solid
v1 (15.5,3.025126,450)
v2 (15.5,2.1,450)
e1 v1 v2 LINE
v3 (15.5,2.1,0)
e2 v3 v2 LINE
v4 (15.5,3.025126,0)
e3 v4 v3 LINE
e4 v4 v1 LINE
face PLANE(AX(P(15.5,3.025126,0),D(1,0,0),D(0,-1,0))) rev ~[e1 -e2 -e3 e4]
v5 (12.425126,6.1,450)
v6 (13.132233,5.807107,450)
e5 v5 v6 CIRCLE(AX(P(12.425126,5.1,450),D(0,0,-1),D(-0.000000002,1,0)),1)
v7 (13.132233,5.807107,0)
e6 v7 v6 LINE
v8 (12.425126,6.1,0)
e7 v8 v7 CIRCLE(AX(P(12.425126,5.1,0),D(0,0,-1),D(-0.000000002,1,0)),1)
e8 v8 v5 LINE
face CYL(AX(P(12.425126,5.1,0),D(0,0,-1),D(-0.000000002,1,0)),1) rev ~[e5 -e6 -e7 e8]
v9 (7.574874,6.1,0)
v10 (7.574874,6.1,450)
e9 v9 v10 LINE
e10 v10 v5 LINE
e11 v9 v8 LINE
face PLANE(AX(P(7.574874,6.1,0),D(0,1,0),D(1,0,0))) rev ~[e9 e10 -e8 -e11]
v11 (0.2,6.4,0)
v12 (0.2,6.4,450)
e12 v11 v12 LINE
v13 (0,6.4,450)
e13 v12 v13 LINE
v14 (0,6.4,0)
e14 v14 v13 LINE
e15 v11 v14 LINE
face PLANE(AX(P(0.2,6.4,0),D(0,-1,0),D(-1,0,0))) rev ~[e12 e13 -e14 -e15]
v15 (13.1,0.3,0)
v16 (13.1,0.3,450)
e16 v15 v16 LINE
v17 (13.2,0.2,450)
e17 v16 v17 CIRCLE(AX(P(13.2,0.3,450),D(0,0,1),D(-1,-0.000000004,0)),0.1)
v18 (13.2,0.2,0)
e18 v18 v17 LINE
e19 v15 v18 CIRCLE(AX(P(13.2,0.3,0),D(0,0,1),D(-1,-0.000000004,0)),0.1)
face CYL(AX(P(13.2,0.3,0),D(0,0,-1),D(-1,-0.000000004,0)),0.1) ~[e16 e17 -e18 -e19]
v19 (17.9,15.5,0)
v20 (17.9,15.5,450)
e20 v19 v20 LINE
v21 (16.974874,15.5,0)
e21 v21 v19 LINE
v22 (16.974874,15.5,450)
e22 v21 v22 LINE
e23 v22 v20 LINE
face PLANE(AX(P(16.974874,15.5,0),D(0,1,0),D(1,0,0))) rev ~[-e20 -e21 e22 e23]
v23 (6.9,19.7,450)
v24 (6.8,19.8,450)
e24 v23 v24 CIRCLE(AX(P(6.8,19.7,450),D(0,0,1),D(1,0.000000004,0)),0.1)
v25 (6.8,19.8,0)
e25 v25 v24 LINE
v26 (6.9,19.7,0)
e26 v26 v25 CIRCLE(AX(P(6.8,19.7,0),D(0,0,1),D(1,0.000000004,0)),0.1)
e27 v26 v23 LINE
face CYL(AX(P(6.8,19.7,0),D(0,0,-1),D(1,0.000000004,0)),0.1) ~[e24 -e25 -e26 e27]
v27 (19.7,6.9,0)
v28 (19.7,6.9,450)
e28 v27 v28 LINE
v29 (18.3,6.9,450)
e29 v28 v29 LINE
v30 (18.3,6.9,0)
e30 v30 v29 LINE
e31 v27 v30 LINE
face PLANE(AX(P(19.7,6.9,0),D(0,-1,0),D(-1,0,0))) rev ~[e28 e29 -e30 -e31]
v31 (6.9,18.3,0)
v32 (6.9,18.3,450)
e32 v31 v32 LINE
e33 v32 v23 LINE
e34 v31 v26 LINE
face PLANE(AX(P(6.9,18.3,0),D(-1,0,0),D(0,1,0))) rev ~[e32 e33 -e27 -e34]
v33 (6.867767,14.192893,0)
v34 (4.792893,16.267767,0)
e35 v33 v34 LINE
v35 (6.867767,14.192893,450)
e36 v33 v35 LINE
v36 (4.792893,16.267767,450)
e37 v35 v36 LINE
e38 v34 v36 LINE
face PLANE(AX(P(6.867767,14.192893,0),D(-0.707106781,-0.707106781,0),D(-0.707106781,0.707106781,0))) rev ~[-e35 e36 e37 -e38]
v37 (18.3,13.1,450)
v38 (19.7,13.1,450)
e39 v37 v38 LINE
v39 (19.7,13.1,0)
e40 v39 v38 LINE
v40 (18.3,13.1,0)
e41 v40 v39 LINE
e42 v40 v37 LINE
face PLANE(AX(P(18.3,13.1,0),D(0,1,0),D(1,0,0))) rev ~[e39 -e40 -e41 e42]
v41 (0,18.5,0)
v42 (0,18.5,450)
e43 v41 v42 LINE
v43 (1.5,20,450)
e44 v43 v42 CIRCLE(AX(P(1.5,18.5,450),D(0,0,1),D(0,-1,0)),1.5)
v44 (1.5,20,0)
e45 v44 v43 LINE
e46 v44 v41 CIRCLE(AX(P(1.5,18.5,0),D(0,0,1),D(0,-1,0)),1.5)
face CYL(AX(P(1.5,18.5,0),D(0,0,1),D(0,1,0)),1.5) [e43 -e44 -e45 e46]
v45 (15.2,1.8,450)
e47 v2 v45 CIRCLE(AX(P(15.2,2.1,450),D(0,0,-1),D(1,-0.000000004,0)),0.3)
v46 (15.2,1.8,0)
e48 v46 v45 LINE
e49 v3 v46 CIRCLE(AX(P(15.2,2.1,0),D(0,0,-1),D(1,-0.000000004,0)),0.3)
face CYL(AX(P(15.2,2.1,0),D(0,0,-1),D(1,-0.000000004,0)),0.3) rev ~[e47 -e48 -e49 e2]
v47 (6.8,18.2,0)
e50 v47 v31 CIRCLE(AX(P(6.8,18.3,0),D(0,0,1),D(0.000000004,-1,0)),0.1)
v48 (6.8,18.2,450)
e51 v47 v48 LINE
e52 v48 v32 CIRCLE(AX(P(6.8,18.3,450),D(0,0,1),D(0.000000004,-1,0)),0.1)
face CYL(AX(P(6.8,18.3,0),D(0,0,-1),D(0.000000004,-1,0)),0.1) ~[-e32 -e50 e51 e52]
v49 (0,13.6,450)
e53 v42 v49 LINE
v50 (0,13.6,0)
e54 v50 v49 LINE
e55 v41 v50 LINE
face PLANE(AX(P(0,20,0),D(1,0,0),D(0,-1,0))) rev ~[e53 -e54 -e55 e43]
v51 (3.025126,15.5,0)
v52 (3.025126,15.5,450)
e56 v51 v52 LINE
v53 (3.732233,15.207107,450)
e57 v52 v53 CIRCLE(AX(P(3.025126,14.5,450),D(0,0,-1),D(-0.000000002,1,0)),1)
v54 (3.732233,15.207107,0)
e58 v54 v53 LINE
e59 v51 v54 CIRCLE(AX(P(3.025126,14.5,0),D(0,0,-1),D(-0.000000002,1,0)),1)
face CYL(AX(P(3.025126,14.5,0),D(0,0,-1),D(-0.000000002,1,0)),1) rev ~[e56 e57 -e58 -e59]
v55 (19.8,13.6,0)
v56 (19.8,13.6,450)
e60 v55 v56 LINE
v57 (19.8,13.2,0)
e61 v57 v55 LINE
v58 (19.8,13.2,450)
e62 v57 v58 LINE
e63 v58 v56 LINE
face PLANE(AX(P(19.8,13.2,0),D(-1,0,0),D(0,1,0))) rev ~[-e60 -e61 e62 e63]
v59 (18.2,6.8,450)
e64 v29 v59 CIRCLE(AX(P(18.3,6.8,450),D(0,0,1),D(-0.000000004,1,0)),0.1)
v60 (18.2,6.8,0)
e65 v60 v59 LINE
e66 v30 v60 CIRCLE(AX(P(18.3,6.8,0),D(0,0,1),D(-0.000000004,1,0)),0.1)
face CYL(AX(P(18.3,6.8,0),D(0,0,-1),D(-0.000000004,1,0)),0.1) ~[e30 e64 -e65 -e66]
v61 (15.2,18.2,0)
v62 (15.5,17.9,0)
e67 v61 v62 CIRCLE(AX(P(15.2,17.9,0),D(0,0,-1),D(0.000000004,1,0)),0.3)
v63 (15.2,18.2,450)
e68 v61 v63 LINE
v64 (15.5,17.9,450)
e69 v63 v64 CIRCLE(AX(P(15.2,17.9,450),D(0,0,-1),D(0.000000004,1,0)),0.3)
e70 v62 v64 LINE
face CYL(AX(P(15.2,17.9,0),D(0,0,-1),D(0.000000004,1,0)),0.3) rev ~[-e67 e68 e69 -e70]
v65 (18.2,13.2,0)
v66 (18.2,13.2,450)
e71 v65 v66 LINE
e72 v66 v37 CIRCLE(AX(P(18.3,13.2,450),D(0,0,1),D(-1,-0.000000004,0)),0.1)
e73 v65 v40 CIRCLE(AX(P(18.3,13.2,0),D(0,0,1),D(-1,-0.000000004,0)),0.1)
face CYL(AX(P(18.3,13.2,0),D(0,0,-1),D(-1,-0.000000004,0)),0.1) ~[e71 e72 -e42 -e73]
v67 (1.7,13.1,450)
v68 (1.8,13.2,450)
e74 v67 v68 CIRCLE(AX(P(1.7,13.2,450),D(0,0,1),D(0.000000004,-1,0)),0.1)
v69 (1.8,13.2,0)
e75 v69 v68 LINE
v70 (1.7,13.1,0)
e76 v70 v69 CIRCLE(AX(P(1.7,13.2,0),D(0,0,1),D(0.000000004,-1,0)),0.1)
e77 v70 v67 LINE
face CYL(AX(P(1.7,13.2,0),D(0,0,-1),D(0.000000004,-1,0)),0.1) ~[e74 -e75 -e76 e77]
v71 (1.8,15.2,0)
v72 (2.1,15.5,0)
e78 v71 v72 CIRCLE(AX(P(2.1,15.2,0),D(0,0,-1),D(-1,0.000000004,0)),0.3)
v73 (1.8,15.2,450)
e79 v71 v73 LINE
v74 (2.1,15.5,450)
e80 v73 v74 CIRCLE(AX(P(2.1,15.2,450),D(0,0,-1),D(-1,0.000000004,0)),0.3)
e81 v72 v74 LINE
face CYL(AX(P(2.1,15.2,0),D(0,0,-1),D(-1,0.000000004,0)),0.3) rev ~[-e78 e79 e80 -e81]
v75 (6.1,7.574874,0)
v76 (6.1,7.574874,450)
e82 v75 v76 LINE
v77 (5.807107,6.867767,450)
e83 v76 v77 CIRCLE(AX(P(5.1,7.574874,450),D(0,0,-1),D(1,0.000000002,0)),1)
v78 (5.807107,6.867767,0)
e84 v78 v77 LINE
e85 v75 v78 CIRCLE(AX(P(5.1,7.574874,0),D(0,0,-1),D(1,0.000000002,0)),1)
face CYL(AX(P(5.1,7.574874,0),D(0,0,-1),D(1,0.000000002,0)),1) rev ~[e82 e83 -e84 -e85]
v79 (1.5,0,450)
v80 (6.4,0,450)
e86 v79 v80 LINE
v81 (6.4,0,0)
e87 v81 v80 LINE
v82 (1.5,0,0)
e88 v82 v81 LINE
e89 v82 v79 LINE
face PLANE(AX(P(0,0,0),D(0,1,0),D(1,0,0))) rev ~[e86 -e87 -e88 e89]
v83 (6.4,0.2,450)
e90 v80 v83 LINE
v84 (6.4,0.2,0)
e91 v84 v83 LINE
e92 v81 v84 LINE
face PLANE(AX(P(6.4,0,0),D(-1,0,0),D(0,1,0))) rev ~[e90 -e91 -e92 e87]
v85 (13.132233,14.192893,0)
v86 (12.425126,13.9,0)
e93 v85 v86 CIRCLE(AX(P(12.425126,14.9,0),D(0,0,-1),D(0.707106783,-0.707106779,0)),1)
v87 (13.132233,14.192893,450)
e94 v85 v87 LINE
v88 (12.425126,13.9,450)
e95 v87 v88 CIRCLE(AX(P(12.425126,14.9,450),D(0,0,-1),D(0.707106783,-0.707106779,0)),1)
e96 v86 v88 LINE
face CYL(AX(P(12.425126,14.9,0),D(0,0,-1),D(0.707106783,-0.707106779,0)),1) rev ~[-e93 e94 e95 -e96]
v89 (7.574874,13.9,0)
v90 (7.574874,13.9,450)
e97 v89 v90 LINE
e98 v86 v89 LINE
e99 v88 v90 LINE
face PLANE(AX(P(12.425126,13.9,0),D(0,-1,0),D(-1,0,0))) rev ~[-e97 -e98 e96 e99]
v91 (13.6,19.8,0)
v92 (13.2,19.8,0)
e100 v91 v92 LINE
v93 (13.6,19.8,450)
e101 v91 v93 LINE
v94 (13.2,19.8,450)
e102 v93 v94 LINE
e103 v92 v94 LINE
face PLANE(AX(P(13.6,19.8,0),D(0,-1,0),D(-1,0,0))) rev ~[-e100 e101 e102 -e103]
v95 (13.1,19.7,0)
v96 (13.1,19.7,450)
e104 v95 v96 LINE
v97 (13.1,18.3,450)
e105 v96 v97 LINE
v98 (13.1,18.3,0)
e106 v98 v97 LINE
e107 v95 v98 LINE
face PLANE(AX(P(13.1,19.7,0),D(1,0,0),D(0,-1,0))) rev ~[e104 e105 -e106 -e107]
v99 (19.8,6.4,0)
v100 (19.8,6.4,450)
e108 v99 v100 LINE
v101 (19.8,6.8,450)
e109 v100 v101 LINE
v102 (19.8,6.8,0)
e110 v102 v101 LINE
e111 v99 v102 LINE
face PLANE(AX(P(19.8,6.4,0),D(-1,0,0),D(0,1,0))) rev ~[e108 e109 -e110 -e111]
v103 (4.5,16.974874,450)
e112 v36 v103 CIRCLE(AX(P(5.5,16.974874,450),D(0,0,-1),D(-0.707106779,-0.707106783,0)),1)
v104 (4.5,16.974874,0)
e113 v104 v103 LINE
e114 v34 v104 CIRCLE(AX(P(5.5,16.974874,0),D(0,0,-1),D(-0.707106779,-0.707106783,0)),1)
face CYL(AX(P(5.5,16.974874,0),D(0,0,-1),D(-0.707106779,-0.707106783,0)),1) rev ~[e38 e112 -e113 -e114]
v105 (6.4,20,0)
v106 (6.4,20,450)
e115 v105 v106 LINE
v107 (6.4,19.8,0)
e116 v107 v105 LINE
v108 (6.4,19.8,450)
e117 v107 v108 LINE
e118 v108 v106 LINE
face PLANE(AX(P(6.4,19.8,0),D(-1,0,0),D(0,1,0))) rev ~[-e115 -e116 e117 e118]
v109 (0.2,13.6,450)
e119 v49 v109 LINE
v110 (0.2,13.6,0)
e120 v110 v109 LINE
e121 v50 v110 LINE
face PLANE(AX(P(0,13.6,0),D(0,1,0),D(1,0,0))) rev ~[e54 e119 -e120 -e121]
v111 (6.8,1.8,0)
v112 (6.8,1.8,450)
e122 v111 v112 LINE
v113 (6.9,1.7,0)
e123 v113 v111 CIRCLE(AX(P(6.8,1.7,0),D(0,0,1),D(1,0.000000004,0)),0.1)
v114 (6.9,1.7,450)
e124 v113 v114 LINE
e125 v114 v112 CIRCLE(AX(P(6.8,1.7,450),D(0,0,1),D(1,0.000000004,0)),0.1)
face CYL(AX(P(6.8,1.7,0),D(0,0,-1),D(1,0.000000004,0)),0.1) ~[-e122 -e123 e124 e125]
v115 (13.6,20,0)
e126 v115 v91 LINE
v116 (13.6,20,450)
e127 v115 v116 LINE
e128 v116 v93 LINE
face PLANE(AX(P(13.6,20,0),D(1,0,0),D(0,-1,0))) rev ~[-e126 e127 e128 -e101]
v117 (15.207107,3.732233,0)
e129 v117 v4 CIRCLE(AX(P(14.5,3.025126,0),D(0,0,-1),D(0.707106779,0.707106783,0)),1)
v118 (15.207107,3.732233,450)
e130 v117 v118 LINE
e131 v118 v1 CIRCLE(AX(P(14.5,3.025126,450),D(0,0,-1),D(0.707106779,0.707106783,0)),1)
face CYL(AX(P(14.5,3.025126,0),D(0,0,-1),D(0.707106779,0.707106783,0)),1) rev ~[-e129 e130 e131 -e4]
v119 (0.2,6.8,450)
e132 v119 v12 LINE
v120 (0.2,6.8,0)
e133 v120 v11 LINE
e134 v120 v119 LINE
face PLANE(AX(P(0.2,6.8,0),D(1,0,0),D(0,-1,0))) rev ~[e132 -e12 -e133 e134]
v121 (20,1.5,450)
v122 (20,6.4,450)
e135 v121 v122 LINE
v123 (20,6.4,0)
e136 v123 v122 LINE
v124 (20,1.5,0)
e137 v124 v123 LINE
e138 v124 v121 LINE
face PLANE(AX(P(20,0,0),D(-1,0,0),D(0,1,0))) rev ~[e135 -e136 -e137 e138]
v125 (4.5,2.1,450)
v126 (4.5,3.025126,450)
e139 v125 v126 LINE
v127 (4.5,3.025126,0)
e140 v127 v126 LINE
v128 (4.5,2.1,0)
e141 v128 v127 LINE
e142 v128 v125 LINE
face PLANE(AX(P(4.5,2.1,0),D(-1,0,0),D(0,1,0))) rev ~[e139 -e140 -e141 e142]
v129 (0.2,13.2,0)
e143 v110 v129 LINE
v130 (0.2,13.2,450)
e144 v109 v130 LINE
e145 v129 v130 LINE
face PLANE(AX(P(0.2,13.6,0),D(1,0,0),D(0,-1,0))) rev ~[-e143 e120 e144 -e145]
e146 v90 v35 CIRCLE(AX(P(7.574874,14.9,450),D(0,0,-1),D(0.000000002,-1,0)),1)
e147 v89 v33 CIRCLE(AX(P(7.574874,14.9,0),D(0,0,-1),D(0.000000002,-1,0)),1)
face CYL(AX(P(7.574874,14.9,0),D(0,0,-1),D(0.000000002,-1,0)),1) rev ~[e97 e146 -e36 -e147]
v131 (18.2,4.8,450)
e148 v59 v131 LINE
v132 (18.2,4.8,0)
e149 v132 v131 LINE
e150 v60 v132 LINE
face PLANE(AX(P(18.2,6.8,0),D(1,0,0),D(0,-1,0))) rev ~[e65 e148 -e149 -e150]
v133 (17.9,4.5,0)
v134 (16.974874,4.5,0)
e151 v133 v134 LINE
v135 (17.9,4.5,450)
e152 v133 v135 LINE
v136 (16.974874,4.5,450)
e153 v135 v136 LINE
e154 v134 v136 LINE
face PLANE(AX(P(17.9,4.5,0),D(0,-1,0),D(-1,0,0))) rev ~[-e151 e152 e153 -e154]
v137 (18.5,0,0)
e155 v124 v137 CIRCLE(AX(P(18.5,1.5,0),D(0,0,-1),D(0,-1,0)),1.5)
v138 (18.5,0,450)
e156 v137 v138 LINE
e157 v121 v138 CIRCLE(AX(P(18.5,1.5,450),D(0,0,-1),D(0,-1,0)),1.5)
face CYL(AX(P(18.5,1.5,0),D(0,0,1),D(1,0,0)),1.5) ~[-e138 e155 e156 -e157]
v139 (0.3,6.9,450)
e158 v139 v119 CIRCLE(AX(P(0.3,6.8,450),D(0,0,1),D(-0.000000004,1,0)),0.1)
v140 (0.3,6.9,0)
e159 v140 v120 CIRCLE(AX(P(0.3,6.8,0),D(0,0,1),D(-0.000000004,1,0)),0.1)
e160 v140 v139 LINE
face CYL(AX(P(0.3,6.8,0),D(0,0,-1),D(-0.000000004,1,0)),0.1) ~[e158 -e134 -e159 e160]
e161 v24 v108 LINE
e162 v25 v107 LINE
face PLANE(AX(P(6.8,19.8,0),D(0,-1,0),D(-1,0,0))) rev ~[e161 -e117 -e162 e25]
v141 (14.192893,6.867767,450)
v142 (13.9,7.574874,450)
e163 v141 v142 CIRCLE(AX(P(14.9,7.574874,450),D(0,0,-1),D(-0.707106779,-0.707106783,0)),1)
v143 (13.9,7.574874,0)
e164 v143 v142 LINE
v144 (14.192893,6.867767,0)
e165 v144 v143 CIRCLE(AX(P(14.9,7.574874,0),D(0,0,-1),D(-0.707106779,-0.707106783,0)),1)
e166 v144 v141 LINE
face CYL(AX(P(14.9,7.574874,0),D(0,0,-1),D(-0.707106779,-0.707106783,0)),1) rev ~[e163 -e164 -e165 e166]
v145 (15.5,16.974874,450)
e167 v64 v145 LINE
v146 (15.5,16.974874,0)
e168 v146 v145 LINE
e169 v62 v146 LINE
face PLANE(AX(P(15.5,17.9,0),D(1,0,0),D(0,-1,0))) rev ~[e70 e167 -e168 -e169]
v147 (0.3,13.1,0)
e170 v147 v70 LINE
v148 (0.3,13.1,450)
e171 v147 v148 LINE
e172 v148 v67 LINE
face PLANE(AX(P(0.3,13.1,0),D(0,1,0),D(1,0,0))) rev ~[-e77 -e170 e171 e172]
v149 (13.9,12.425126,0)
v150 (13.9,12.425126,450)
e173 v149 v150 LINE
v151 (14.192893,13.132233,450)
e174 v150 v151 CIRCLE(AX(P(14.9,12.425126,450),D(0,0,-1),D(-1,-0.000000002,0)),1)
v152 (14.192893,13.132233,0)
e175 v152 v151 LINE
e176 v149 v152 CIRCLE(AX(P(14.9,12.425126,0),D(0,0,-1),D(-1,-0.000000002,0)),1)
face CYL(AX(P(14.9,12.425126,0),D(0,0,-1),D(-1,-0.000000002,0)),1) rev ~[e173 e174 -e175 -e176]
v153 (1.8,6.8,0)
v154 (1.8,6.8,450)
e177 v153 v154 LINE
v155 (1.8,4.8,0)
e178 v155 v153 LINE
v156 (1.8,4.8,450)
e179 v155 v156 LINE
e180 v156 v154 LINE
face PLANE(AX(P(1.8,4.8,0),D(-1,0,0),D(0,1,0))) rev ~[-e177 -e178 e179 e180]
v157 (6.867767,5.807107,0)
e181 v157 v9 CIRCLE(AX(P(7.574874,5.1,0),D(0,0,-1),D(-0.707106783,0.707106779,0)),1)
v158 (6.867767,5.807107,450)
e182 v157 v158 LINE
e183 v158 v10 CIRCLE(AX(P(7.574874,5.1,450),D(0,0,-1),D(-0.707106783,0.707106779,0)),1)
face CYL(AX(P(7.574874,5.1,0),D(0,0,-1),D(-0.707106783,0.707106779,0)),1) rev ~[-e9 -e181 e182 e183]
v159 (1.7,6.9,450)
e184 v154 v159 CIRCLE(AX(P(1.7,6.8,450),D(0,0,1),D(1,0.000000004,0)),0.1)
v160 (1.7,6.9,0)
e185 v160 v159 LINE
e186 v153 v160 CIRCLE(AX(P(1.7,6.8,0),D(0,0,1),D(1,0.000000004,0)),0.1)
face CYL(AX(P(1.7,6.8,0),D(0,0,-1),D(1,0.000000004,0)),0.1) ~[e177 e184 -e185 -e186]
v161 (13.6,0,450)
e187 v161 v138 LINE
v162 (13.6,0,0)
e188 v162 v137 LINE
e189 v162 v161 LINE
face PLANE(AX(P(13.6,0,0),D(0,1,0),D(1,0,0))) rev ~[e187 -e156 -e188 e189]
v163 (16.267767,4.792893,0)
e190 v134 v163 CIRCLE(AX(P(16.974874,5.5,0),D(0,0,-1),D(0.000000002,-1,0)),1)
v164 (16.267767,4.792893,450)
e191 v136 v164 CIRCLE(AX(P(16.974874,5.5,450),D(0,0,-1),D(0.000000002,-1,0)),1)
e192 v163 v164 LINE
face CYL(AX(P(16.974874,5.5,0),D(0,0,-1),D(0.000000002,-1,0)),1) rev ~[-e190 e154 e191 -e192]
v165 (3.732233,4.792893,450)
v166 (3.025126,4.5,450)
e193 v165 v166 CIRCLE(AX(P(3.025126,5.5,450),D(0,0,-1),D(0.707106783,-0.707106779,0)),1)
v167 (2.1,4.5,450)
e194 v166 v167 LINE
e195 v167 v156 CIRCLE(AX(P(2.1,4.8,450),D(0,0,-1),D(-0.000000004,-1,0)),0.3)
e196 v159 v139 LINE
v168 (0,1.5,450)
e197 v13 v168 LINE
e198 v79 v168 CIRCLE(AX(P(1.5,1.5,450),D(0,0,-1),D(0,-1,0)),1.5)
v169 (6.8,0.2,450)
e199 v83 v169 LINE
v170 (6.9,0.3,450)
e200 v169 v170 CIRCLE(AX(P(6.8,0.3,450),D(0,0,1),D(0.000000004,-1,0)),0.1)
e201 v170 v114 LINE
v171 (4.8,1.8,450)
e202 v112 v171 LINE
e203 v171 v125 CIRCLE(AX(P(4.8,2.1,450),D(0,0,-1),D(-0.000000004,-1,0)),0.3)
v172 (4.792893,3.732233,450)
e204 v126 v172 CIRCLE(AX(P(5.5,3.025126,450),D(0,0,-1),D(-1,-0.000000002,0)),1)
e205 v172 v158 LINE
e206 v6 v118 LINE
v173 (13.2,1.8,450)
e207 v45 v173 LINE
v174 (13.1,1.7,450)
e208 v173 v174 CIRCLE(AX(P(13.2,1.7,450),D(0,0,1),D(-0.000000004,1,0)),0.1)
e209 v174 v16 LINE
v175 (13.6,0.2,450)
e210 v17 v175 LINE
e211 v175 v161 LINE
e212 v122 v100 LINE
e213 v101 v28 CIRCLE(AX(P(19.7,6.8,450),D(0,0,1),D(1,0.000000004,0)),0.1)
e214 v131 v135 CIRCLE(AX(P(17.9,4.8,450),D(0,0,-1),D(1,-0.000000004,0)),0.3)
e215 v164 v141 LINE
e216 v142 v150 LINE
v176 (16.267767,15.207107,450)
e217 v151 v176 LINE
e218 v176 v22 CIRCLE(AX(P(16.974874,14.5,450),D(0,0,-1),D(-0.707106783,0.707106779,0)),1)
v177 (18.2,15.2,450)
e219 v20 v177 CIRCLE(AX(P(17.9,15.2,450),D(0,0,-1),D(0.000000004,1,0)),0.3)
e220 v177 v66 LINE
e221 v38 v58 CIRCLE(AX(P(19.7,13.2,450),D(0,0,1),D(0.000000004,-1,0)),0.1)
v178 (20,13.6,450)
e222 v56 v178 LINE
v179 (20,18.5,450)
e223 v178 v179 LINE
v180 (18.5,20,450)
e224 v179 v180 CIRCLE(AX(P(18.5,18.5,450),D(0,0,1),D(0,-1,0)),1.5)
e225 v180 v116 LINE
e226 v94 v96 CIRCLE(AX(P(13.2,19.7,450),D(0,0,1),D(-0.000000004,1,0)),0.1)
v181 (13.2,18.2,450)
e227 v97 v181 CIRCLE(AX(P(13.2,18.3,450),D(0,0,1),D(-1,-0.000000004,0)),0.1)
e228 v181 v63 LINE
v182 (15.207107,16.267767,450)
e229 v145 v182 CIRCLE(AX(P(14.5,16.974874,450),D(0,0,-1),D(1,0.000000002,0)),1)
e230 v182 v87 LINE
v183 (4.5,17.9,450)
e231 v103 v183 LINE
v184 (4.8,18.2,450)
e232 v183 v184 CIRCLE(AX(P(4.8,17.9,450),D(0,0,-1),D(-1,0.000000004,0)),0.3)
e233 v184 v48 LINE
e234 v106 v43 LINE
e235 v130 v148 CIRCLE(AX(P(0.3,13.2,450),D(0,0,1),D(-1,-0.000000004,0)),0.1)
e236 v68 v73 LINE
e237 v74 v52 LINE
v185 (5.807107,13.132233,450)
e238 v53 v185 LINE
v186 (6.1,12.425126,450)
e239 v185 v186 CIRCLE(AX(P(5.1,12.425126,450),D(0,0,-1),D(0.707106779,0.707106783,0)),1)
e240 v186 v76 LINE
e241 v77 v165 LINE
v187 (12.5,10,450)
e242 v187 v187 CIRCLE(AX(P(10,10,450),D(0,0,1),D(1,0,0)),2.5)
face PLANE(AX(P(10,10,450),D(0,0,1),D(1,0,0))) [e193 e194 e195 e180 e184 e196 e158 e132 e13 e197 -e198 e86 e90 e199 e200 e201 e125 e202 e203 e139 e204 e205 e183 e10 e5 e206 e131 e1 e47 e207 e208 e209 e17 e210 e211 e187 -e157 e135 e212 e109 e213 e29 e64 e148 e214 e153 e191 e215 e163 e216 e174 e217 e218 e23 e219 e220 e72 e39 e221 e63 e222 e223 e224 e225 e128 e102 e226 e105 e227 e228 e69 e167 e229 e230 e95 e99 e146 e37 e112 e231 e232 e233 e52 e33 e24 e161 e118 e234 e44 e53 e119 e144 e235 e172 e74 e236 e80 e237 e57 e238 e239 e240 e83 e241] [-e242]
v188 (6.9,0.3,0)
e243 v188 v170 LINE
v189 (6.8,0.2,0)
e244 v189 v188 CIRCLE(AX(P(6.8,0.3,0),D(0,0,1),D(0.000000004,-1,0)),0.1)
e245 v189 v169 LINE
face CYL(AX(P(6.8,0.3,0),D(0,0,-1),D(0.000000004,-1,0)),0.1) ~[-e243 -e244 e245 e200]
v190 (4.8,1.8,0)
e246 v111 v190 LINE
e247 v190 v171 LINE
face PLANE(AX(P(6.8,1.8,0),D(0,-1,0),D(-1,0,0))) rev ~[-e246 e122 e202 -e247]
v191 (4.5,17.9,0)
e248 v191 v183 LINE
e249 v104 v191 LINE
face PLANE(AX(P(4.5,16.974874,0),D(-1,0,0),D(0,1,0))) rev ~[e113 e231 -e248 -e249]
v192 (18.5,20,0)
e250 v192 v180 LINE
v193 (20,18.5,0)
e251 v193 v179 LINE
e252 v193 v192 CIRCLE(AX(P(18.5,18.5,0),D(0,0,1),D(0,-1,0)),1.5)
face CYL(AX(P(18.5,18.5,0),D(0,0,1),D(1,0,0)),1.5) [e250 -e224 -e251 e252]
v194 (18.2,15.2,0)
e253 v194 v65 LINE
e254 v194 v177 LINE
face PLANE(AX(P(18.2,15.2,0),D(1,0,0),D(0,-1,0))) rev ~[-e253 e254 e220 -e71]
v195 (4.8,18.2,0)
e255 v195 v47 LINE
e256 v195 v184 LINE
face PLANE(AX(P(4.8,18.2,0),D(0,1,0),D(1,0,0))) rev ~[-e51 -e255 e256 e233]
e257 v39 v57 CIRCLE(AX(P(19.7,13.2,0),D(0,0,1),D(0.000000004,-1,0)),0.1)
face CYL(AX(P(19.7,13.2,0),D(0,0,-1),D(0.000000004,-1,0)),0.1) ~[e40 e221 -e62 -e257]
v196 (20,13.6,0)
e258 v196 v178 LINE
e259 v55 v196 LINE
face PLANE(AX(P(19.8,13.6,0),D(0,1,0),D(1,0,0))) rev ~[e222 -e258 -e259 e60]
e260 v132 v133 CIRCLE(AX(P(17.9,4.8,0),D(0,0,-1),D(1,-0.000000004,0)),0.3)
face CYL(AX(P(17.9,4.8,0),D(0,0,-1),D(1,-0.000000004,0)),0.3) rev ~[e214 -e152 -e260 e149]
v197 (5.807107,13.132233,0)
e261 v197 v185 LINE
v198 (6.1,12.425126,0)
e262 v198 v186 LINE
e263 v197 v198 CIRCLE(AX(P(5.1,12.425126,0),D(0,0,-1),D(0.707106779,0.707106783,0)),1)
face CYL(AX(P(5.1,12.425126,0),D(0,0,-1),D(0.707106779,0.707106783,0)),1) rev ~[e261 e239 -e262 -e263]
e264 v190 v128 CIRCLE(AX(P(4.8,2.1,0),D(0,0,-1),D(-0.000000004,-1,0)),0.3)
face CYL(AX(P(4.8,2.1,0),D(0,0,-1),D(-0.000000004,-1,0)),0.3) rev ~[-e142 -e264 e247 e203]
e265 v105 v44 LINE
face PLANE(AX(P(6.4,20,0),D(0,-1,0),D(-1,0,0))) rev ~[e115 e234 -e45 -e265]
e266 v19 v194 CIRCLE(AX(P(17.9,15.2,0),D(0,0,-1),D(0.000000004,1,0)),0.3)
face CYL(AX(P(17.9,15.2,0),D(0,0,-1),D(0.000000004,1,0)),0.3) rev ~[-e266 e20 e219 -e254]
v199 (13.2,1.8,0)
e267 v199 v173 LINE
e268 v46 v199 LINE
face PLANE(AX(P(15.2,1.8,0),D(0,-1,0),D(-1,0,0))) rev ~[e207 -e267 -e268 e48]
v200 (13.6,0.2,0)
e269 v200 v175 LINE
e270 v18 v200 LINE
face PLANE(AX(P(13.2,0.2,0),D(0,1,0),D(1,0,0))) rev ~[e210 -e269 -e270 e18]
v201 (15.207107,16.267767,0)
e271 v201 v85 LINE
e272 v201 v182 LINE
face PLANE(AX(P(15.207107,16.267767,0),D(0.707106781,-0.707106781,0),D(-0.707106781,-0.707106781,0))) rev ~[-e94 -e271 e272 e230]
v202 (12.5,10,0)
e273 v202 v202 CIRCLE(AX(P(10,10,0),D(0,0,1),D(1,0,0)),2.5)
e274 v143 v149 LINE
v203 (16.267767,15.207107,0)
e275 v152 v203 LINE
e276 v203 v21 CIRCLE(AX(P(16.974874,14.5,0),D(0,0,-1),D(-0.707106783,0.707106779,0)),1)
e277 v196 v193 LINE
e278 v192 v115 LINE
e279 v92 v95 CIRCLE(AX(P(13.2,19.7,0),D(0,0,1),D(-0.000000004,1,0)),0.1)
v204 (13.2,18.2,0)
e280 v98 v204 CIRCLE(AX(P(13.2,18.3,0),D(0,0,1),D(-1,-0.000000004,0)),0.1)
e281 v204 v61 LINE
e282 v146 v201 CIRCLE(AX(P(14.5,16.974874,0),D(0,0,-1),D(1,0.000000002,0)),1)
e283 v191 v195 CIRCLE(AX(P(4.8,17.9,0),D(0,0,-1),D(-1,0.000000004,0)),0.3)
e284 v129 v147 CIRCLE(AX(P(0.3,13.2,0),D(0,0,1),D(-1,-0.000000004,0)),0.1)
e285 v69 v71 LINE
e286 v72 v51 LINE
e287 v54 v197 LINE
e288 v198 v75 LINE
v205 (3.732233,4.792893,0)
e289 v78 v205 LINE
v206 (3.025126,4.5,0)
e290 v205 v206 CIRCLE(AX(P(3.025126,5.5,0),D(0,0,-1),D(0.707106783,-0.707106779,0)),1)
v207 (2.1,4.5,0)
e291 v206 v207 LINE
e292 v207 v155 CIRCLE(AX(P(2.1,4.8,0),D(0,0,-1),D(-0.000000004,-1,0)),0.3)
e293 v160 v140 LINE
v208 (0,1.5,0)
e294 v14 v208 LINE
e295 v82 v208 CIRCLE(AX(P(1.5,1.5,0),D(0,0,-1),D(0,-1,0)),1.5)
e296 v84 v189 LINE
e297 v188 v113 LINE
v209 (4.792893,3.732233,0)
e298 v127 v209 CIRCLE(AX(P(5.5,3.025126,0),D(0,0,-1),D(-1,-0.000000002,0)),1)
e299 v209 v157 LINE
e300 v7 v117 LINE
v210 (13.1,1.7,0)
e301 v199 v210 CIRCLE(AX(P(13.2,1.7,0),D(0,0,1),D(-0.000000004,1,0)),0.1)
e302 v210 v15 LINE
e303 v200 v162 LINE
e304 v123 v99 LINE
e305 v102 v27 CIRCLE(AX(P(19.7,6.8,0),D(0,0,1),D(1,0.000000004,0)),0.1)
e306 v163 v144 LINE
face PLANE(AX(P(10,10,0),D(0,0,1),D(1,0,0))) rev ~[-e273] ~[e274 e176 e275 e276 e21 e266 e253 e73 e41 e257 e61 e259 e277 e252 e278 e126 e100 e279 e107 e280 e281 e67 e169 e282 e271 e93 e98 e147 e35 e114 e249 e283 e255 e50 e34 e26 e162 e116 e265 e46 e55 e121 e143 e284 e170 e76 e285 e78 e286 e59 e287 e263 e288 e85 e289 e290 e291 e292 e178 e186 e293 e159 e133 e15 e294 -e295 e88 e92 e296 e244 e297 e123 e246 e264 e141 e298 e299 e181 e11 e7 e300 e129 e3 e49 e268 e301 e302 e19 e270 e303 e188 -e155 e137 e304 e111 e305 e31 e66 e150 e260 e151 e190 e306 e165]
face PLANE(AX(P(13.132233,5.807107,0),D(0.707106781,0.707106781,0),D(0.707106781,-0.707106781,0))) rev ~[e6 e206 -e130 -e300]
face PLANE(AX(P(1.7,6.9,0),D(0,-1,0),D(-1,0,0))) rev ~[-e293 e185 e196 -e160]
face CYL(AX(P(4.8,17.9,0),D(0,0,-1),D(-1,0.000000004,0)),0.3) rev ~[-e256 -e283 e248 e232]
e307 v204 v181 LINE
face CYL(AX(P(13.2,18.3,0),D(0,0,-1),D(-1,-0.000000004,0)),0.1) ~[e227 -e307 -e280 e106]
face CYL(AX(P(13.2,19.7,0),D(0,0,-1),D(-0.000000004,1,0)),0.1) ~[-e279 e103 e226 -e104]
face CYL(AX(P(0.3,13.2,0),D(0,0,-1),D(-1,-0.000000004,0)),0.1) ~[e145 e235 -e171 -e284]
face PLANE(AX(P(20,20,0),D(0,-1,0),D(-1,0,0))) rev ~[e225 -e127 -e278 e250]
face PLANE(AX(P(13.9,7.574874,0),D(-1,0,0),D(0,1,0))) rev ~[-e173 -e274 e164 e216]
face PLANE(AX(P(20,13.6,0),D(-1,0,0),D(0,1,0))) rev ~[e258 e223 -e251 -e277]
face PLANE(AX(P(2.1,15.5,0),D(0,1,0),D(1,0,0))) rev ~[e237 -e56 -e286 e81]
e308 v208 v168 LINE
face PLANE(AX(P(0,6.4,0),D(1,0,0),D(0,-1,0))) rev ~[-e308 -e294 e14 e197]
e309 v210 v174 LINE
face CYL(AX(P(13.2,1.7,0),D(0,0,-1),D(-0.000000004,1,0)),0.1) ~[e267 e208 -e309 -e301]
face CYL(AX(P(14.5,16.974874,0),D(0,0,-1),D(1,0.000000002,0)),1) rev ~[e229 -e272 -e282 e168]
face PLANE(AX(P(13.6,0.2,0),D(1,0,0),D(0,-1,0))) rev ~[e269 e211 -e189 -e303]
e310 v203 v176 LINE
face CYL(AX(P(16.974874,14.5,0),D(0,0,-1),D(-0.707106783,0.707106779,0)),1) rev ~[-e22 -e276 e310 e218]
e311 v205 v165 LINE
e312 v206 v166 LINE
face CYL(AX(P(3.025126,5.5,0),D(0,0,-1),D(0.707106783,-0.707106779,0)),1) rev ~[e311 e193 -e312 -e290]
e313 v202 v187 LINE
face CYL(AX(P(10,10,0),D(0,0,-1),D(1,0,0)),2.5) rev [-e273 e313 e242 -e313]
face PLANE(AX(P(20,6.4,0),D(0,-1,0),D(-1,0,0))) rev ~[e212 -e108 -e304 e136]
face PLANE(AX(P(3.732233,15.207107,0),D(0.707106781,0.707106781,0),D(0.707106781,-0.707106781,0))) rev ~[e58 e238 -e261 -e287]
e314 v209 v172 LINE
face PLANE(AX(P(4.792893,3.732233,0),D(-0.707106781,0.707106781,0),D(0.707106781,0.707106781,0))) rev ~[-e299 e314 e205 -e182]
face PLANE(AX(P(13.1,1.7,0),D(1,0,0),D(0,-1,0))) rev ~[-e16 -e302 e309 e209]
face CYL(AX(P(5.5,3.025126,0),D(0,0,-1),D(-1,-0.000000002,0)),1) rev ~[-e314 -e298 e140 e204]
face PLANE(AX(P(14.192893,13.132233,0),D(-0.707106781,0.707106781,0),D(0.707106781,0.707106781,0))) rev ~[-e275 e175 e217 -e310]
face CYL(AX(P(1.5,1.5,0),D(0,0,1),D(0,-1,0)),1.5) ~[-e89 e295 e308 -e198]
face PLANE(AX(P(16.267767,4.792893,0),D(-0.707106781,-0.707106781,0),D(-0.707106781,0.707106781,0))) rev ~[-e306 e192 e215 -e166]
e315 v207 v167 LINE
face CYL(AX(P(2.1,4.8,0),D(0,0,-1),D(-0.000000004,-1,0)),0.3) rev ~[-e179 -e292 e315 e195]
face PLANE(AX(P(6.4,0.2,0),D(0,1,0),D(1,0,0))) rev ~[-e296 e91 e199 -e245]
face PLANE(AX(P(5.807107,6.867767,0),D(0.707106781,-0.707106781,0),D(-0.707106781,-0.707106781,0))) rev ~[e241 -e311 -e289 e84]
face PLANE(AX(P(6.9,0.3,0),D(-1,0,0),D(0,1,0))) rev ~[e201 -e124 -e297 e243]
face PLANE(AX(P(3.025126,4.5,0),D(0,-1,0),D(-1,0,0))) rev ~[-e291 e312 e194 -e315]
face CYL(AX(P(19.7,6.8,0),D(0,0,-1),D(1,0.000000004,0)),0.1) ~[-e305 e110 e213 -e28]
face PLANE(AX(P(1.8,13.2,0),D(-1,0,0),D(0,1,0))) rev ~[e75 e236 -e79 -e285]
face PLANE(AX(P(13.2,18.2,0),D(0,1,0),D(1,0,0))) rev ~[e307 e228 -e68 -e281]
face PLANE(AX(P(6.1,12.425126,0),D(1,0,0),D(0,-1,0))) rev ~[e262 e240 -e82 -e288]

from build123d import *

# Parameters (mm, degrees)
SKETCH_1_R      = 2.5
EXTRUDE_1_DEPTH = 450
FILLET_1_R      = 1.5


with BuildPart() as part:
    # 草图1 → 凸台-拉伸1 (new body)
    with BuildSketch(Plane.XY):
        with BuildLine():
            Line((20, 13.6), (20, 20))
            Line((20, 20), (13.6, 20))
            Line((13.6, 20), (13.6, 19.8))
            Line((13.6, 19.8), (13.2, 19.8))
            ThreePointArc((13.2, 19.8), (13.129289322, 19.770710678), (13.1, 19.7))
            Line((13.1, 19.7), (13.1, 18.3))
            ThreePointArc((13.1, 18.3), (13.129289322, 18.229289322), (13.2, 18.2))
            Line((13.2, 18.2), (15.2, 18.2))
            ThreePointArc((15.2, 18.2), (15.412132034, 18.112132034), (15.5, 17.9))
            Line((15.5, 17.9), (15.5, 16.974873734))
            ThreePointArc((15.5, 16.974873734), (15.423879533, 16.592190302), (15.207106781, 16.267766953))
            Line((15.207106781, 16.267766953), (13.132233047, 14.192893219))
            ThreePointArc((13.132233047, 14.192893219), (12.807809698, 13.976120467), (12.425126266, 13.9))
            Line((12.425126266, 13.9), (7.574873734, 13.9))
            ThreePointArc((7.574873734, 13.9), (7.192190302, 13.976120467), (6.867766953, 14.192893219))
            Line((6.867766953, 14.192893219), (4.792893219, 16.267766953))
            ThreePointArc((4.792893219, 16.267766953), (4.576120467, 16.592190302), (4.5, 16.974873734))
            Line((4.5, 16.974873734), (4.5, 17.9))
            ThreePointArc((4.5, 17.9), (4.587867966, 18.112132034), (4.8, 18.2))
            Line((4.8, 18.2), (6.8, 18.2))
            ThreePointArc((6.8, 18.2), (6.870710678, 18.229289322), (6.9, 18.3))
            Line((6.9, 18.3), (6.9, 19.7))
            ThreePointArc((6.9, 19.7), (6.870710678, 19.770710678), (6.8, 19.8))
            Line((6.8, 19.8), (6.4, 19.8))
            Line((6.4, 19.8), (6.4, 20))
            Line((6.4, 20), (0, 20))
            Line((0, 20), (0, 13.6))
            Line((0, 13.6), (0.2, 13.6))
            Line((0.2, 13.6), (0.2, 13.2))
            ThreePointArc((0.2, 13.2), (0.229289322, 13.129289322), (0.3, 13.1))
            Line((0.3, 13.1), (1.7, 13.1))
            ThreePointArc((1.7, 13.1), (1.770710678, 13.129289322), (1.8, 13.2))
            Line((1.8, 13.2), (1.8, 15.2))
            ThreePointArc((1.8, 15.2), (1.887867966, 15.412132034), (2.1, 15.5))
            Line((2.1, 15.5), (3.025126266, 15.5))
            ThreePointArc((3.025126266, 15.5), (3.407809698, 15.423879533), (3.732233047, 15.207106781))
            Line((3.732233047, 15.207106781), (5.807106781, 13.132233047))
            ThreePointArc((5.807106781, 13.132233047), (6.023879533, 12.807809698), (6.1, 12.425126266))
            Line((6.1, 12.425126266), (6.1, 7.574873734))
            ThreePointArc((6.1, 7.574873734), (6.023879533, 7.192190302), (5.807106781, 6.867766953))
            Line((5.807106781, 6.867766953), (3.732233047, 4.792893219))
            ThreePointArc((3.732233047, 4.792893219), (3.407809698, 4.576120467), (3.025126266, 4.5))
            Line((3.025126266, 4.5), (2.1, 4.5))
            ThreePointArc((2.1, 4.5), (1.887867966, 4.587867966), (1.8, 4.8))
            Line((1.8, 4.8), (1.8, 6.8))
            ThreePointArc((1.8, 6.8), (1.770710678, 6.870710678), (1.7, 6.9))
            Line((1.7, 6.9), (0.3, 6.9))
            ThreePointArc((0.3, 6.9), (0.229289322, 6.870710678), (0.2, 6.8))
            Line((0.2, 6.8), (0.2, 6.4))
            Line((0.2, 6.4), (0, 6.4))
            Line((0, 6.4), (0, 0))
            Line((0, 0), (6.4, 0))
            Line((6.4, 0), (6.4, 0.2))
            Line((6.4, 0.2), (6.8, 0.2))
            ThreePointArc((6.8, 0.2), (6.870710678, 0.229289322), (6.9, 0.3))
            Line((6.9, 0.3), (6.9, 1.7))
            ThreePointArc((6.9, 1.7), (6.870710678, 1.770710678), (6.8, 1.8))
            Line((6.8, 1.8), (4.8, 1.8))
            ThreePointArc((4.8, 1.8), (4.587867966, 1.887867966), (4.5, 2.1))
            Line((4.5, 2.1), (4.5, 3.025126266))
            ThreePointArc((4.5, 3.025126266), (4.576120467, 3.407809698), (4.792893219, 3.732233047))
            Line((4.792893219, 3.732233047), (6.867766953, 5.807106781))
            ThreePointArc((6.867766953, 5.807106781), (7.192190302, 6.023879533), (7.574873734, 6.1))
            Line((7.574873734, 6.1), (12.425126266, 6.1))
            ThreePointArc((12.425126266, 6.1), (12.807809698, 6.023879533), (13.132233047, 5.807106781))
            Line((13.132233047, 5.807106781), (15.207106781, 3.732233047))
            ThreePointArc((15.207106781, 3.732233047), (15.423879533, 3.407809698), (15.5, 3.025126266))
            Line((15.5, 3.025126266), (15.5, 2.1))
            ThreePointArc((15.5, 2.1), (15.412132034, 1.887867966), (15.2, 1.8))
            Line((15.2, 1.8), (13.2, 1.8))
            ThreePointArc((13.2, 1.8), (13.129289322, 1.770710678), (13.1, 1.7))
            Line((13.1, 1.7), (13.1, 0.3))
            ThreePointArc((13.1, 0.3), (13.129289322, 0.229289322), (13.2, 0.2))
            Line((13.2, 0.2), (13.6, 0.2))
            Line((13.6, 0.2), (13.6, 0))
            Line((13.6, 0), (20, 0))
            Line((20, 0), (20, 6.4))
            Line((20, 6.4), (19.8, 6.4))
            Line((19.8, 6.4), (19.8, 6.8))
            ThreePointArc((19.8, 6.8), (19.770710678, 6.870710678), (19.7, 6.9))
            Line((19.7, 6.9), (18.3, 6.9))
            ThreePointArc((18.3, 6.9), (18.229289322, 6.870710678), (18.2, 6.8))
            Line((18.2, 6.8), (18.2, 4.8))
            ThreePointArc((18.2, 4.8), (18.112132034, 4.587867966), (17.9, 4.5))
            Line((17.9, 4.5), (16.974873734, 4.5))
            ThreePointArc((16.974873734, 4.5), (16.592190302, 4.576120467), (16.267766953, 4.792893219))
            Line((16.267766953, 4.792893219), (14.192893219, 6.867766953))
            ThreePointArc((14.192893219, 6.867766953), (13.976120467, 7.192190302), (13.9, 7.574873734))
            Line((13.9, 7.574873734), (13.9, 12.425126266))
            ThreePointArc((13.9, 12.425126266), (13.976120467, 12.807809698), (14.192893219, 13.132233047))
            Line((14.192893219, 13.132233047), (16.267766953, 15.207106781))
            ThreePointArc((16.267766953, 15.207106781), (16.592190302, 15.423879533), (16.974873734, 15.5))
            Line((16.974873734, 15.5), (17.9, 15.5))
            ThreePointArc((17.9, 15.5), (18.112132034, 15.412132034), (18.2, 15.2))
            Line((18.2, 15.2), (18.2, 13.2))
            ThreePointArc((18.2, 13.2), (18.229289322, 13.129289322), (18.3, 13.1))
            Line((18.3, 13.1), (19.7, 13.1))
            ThreePointArc((19.7, 13.1), (19.770710678, 13.129289322), (19.8, 13.2))
            Line((19.8, 13.2), (19.8, 13.6))
            Line((19.8, 13.6), (20, 13.6))
        make_face()
        with Locations((10, 10)):
            Circle(SKETCH_1_R, mode=Mode.SUBTRACT)
    extrude(amount=EXTRUDE_1_DEPTH)

    # 圆角1
    fillet_1_edges = [part.edges().sort_by_distance(p)[0] for p in [
        (0, 0, 225),
        (0, 20, 225),
        (20, 20, 225),
        (20, 0, 225),
    ]]
    fillet(fillet_1_edges, radius=FILLET_1_R)


solid = part.part
